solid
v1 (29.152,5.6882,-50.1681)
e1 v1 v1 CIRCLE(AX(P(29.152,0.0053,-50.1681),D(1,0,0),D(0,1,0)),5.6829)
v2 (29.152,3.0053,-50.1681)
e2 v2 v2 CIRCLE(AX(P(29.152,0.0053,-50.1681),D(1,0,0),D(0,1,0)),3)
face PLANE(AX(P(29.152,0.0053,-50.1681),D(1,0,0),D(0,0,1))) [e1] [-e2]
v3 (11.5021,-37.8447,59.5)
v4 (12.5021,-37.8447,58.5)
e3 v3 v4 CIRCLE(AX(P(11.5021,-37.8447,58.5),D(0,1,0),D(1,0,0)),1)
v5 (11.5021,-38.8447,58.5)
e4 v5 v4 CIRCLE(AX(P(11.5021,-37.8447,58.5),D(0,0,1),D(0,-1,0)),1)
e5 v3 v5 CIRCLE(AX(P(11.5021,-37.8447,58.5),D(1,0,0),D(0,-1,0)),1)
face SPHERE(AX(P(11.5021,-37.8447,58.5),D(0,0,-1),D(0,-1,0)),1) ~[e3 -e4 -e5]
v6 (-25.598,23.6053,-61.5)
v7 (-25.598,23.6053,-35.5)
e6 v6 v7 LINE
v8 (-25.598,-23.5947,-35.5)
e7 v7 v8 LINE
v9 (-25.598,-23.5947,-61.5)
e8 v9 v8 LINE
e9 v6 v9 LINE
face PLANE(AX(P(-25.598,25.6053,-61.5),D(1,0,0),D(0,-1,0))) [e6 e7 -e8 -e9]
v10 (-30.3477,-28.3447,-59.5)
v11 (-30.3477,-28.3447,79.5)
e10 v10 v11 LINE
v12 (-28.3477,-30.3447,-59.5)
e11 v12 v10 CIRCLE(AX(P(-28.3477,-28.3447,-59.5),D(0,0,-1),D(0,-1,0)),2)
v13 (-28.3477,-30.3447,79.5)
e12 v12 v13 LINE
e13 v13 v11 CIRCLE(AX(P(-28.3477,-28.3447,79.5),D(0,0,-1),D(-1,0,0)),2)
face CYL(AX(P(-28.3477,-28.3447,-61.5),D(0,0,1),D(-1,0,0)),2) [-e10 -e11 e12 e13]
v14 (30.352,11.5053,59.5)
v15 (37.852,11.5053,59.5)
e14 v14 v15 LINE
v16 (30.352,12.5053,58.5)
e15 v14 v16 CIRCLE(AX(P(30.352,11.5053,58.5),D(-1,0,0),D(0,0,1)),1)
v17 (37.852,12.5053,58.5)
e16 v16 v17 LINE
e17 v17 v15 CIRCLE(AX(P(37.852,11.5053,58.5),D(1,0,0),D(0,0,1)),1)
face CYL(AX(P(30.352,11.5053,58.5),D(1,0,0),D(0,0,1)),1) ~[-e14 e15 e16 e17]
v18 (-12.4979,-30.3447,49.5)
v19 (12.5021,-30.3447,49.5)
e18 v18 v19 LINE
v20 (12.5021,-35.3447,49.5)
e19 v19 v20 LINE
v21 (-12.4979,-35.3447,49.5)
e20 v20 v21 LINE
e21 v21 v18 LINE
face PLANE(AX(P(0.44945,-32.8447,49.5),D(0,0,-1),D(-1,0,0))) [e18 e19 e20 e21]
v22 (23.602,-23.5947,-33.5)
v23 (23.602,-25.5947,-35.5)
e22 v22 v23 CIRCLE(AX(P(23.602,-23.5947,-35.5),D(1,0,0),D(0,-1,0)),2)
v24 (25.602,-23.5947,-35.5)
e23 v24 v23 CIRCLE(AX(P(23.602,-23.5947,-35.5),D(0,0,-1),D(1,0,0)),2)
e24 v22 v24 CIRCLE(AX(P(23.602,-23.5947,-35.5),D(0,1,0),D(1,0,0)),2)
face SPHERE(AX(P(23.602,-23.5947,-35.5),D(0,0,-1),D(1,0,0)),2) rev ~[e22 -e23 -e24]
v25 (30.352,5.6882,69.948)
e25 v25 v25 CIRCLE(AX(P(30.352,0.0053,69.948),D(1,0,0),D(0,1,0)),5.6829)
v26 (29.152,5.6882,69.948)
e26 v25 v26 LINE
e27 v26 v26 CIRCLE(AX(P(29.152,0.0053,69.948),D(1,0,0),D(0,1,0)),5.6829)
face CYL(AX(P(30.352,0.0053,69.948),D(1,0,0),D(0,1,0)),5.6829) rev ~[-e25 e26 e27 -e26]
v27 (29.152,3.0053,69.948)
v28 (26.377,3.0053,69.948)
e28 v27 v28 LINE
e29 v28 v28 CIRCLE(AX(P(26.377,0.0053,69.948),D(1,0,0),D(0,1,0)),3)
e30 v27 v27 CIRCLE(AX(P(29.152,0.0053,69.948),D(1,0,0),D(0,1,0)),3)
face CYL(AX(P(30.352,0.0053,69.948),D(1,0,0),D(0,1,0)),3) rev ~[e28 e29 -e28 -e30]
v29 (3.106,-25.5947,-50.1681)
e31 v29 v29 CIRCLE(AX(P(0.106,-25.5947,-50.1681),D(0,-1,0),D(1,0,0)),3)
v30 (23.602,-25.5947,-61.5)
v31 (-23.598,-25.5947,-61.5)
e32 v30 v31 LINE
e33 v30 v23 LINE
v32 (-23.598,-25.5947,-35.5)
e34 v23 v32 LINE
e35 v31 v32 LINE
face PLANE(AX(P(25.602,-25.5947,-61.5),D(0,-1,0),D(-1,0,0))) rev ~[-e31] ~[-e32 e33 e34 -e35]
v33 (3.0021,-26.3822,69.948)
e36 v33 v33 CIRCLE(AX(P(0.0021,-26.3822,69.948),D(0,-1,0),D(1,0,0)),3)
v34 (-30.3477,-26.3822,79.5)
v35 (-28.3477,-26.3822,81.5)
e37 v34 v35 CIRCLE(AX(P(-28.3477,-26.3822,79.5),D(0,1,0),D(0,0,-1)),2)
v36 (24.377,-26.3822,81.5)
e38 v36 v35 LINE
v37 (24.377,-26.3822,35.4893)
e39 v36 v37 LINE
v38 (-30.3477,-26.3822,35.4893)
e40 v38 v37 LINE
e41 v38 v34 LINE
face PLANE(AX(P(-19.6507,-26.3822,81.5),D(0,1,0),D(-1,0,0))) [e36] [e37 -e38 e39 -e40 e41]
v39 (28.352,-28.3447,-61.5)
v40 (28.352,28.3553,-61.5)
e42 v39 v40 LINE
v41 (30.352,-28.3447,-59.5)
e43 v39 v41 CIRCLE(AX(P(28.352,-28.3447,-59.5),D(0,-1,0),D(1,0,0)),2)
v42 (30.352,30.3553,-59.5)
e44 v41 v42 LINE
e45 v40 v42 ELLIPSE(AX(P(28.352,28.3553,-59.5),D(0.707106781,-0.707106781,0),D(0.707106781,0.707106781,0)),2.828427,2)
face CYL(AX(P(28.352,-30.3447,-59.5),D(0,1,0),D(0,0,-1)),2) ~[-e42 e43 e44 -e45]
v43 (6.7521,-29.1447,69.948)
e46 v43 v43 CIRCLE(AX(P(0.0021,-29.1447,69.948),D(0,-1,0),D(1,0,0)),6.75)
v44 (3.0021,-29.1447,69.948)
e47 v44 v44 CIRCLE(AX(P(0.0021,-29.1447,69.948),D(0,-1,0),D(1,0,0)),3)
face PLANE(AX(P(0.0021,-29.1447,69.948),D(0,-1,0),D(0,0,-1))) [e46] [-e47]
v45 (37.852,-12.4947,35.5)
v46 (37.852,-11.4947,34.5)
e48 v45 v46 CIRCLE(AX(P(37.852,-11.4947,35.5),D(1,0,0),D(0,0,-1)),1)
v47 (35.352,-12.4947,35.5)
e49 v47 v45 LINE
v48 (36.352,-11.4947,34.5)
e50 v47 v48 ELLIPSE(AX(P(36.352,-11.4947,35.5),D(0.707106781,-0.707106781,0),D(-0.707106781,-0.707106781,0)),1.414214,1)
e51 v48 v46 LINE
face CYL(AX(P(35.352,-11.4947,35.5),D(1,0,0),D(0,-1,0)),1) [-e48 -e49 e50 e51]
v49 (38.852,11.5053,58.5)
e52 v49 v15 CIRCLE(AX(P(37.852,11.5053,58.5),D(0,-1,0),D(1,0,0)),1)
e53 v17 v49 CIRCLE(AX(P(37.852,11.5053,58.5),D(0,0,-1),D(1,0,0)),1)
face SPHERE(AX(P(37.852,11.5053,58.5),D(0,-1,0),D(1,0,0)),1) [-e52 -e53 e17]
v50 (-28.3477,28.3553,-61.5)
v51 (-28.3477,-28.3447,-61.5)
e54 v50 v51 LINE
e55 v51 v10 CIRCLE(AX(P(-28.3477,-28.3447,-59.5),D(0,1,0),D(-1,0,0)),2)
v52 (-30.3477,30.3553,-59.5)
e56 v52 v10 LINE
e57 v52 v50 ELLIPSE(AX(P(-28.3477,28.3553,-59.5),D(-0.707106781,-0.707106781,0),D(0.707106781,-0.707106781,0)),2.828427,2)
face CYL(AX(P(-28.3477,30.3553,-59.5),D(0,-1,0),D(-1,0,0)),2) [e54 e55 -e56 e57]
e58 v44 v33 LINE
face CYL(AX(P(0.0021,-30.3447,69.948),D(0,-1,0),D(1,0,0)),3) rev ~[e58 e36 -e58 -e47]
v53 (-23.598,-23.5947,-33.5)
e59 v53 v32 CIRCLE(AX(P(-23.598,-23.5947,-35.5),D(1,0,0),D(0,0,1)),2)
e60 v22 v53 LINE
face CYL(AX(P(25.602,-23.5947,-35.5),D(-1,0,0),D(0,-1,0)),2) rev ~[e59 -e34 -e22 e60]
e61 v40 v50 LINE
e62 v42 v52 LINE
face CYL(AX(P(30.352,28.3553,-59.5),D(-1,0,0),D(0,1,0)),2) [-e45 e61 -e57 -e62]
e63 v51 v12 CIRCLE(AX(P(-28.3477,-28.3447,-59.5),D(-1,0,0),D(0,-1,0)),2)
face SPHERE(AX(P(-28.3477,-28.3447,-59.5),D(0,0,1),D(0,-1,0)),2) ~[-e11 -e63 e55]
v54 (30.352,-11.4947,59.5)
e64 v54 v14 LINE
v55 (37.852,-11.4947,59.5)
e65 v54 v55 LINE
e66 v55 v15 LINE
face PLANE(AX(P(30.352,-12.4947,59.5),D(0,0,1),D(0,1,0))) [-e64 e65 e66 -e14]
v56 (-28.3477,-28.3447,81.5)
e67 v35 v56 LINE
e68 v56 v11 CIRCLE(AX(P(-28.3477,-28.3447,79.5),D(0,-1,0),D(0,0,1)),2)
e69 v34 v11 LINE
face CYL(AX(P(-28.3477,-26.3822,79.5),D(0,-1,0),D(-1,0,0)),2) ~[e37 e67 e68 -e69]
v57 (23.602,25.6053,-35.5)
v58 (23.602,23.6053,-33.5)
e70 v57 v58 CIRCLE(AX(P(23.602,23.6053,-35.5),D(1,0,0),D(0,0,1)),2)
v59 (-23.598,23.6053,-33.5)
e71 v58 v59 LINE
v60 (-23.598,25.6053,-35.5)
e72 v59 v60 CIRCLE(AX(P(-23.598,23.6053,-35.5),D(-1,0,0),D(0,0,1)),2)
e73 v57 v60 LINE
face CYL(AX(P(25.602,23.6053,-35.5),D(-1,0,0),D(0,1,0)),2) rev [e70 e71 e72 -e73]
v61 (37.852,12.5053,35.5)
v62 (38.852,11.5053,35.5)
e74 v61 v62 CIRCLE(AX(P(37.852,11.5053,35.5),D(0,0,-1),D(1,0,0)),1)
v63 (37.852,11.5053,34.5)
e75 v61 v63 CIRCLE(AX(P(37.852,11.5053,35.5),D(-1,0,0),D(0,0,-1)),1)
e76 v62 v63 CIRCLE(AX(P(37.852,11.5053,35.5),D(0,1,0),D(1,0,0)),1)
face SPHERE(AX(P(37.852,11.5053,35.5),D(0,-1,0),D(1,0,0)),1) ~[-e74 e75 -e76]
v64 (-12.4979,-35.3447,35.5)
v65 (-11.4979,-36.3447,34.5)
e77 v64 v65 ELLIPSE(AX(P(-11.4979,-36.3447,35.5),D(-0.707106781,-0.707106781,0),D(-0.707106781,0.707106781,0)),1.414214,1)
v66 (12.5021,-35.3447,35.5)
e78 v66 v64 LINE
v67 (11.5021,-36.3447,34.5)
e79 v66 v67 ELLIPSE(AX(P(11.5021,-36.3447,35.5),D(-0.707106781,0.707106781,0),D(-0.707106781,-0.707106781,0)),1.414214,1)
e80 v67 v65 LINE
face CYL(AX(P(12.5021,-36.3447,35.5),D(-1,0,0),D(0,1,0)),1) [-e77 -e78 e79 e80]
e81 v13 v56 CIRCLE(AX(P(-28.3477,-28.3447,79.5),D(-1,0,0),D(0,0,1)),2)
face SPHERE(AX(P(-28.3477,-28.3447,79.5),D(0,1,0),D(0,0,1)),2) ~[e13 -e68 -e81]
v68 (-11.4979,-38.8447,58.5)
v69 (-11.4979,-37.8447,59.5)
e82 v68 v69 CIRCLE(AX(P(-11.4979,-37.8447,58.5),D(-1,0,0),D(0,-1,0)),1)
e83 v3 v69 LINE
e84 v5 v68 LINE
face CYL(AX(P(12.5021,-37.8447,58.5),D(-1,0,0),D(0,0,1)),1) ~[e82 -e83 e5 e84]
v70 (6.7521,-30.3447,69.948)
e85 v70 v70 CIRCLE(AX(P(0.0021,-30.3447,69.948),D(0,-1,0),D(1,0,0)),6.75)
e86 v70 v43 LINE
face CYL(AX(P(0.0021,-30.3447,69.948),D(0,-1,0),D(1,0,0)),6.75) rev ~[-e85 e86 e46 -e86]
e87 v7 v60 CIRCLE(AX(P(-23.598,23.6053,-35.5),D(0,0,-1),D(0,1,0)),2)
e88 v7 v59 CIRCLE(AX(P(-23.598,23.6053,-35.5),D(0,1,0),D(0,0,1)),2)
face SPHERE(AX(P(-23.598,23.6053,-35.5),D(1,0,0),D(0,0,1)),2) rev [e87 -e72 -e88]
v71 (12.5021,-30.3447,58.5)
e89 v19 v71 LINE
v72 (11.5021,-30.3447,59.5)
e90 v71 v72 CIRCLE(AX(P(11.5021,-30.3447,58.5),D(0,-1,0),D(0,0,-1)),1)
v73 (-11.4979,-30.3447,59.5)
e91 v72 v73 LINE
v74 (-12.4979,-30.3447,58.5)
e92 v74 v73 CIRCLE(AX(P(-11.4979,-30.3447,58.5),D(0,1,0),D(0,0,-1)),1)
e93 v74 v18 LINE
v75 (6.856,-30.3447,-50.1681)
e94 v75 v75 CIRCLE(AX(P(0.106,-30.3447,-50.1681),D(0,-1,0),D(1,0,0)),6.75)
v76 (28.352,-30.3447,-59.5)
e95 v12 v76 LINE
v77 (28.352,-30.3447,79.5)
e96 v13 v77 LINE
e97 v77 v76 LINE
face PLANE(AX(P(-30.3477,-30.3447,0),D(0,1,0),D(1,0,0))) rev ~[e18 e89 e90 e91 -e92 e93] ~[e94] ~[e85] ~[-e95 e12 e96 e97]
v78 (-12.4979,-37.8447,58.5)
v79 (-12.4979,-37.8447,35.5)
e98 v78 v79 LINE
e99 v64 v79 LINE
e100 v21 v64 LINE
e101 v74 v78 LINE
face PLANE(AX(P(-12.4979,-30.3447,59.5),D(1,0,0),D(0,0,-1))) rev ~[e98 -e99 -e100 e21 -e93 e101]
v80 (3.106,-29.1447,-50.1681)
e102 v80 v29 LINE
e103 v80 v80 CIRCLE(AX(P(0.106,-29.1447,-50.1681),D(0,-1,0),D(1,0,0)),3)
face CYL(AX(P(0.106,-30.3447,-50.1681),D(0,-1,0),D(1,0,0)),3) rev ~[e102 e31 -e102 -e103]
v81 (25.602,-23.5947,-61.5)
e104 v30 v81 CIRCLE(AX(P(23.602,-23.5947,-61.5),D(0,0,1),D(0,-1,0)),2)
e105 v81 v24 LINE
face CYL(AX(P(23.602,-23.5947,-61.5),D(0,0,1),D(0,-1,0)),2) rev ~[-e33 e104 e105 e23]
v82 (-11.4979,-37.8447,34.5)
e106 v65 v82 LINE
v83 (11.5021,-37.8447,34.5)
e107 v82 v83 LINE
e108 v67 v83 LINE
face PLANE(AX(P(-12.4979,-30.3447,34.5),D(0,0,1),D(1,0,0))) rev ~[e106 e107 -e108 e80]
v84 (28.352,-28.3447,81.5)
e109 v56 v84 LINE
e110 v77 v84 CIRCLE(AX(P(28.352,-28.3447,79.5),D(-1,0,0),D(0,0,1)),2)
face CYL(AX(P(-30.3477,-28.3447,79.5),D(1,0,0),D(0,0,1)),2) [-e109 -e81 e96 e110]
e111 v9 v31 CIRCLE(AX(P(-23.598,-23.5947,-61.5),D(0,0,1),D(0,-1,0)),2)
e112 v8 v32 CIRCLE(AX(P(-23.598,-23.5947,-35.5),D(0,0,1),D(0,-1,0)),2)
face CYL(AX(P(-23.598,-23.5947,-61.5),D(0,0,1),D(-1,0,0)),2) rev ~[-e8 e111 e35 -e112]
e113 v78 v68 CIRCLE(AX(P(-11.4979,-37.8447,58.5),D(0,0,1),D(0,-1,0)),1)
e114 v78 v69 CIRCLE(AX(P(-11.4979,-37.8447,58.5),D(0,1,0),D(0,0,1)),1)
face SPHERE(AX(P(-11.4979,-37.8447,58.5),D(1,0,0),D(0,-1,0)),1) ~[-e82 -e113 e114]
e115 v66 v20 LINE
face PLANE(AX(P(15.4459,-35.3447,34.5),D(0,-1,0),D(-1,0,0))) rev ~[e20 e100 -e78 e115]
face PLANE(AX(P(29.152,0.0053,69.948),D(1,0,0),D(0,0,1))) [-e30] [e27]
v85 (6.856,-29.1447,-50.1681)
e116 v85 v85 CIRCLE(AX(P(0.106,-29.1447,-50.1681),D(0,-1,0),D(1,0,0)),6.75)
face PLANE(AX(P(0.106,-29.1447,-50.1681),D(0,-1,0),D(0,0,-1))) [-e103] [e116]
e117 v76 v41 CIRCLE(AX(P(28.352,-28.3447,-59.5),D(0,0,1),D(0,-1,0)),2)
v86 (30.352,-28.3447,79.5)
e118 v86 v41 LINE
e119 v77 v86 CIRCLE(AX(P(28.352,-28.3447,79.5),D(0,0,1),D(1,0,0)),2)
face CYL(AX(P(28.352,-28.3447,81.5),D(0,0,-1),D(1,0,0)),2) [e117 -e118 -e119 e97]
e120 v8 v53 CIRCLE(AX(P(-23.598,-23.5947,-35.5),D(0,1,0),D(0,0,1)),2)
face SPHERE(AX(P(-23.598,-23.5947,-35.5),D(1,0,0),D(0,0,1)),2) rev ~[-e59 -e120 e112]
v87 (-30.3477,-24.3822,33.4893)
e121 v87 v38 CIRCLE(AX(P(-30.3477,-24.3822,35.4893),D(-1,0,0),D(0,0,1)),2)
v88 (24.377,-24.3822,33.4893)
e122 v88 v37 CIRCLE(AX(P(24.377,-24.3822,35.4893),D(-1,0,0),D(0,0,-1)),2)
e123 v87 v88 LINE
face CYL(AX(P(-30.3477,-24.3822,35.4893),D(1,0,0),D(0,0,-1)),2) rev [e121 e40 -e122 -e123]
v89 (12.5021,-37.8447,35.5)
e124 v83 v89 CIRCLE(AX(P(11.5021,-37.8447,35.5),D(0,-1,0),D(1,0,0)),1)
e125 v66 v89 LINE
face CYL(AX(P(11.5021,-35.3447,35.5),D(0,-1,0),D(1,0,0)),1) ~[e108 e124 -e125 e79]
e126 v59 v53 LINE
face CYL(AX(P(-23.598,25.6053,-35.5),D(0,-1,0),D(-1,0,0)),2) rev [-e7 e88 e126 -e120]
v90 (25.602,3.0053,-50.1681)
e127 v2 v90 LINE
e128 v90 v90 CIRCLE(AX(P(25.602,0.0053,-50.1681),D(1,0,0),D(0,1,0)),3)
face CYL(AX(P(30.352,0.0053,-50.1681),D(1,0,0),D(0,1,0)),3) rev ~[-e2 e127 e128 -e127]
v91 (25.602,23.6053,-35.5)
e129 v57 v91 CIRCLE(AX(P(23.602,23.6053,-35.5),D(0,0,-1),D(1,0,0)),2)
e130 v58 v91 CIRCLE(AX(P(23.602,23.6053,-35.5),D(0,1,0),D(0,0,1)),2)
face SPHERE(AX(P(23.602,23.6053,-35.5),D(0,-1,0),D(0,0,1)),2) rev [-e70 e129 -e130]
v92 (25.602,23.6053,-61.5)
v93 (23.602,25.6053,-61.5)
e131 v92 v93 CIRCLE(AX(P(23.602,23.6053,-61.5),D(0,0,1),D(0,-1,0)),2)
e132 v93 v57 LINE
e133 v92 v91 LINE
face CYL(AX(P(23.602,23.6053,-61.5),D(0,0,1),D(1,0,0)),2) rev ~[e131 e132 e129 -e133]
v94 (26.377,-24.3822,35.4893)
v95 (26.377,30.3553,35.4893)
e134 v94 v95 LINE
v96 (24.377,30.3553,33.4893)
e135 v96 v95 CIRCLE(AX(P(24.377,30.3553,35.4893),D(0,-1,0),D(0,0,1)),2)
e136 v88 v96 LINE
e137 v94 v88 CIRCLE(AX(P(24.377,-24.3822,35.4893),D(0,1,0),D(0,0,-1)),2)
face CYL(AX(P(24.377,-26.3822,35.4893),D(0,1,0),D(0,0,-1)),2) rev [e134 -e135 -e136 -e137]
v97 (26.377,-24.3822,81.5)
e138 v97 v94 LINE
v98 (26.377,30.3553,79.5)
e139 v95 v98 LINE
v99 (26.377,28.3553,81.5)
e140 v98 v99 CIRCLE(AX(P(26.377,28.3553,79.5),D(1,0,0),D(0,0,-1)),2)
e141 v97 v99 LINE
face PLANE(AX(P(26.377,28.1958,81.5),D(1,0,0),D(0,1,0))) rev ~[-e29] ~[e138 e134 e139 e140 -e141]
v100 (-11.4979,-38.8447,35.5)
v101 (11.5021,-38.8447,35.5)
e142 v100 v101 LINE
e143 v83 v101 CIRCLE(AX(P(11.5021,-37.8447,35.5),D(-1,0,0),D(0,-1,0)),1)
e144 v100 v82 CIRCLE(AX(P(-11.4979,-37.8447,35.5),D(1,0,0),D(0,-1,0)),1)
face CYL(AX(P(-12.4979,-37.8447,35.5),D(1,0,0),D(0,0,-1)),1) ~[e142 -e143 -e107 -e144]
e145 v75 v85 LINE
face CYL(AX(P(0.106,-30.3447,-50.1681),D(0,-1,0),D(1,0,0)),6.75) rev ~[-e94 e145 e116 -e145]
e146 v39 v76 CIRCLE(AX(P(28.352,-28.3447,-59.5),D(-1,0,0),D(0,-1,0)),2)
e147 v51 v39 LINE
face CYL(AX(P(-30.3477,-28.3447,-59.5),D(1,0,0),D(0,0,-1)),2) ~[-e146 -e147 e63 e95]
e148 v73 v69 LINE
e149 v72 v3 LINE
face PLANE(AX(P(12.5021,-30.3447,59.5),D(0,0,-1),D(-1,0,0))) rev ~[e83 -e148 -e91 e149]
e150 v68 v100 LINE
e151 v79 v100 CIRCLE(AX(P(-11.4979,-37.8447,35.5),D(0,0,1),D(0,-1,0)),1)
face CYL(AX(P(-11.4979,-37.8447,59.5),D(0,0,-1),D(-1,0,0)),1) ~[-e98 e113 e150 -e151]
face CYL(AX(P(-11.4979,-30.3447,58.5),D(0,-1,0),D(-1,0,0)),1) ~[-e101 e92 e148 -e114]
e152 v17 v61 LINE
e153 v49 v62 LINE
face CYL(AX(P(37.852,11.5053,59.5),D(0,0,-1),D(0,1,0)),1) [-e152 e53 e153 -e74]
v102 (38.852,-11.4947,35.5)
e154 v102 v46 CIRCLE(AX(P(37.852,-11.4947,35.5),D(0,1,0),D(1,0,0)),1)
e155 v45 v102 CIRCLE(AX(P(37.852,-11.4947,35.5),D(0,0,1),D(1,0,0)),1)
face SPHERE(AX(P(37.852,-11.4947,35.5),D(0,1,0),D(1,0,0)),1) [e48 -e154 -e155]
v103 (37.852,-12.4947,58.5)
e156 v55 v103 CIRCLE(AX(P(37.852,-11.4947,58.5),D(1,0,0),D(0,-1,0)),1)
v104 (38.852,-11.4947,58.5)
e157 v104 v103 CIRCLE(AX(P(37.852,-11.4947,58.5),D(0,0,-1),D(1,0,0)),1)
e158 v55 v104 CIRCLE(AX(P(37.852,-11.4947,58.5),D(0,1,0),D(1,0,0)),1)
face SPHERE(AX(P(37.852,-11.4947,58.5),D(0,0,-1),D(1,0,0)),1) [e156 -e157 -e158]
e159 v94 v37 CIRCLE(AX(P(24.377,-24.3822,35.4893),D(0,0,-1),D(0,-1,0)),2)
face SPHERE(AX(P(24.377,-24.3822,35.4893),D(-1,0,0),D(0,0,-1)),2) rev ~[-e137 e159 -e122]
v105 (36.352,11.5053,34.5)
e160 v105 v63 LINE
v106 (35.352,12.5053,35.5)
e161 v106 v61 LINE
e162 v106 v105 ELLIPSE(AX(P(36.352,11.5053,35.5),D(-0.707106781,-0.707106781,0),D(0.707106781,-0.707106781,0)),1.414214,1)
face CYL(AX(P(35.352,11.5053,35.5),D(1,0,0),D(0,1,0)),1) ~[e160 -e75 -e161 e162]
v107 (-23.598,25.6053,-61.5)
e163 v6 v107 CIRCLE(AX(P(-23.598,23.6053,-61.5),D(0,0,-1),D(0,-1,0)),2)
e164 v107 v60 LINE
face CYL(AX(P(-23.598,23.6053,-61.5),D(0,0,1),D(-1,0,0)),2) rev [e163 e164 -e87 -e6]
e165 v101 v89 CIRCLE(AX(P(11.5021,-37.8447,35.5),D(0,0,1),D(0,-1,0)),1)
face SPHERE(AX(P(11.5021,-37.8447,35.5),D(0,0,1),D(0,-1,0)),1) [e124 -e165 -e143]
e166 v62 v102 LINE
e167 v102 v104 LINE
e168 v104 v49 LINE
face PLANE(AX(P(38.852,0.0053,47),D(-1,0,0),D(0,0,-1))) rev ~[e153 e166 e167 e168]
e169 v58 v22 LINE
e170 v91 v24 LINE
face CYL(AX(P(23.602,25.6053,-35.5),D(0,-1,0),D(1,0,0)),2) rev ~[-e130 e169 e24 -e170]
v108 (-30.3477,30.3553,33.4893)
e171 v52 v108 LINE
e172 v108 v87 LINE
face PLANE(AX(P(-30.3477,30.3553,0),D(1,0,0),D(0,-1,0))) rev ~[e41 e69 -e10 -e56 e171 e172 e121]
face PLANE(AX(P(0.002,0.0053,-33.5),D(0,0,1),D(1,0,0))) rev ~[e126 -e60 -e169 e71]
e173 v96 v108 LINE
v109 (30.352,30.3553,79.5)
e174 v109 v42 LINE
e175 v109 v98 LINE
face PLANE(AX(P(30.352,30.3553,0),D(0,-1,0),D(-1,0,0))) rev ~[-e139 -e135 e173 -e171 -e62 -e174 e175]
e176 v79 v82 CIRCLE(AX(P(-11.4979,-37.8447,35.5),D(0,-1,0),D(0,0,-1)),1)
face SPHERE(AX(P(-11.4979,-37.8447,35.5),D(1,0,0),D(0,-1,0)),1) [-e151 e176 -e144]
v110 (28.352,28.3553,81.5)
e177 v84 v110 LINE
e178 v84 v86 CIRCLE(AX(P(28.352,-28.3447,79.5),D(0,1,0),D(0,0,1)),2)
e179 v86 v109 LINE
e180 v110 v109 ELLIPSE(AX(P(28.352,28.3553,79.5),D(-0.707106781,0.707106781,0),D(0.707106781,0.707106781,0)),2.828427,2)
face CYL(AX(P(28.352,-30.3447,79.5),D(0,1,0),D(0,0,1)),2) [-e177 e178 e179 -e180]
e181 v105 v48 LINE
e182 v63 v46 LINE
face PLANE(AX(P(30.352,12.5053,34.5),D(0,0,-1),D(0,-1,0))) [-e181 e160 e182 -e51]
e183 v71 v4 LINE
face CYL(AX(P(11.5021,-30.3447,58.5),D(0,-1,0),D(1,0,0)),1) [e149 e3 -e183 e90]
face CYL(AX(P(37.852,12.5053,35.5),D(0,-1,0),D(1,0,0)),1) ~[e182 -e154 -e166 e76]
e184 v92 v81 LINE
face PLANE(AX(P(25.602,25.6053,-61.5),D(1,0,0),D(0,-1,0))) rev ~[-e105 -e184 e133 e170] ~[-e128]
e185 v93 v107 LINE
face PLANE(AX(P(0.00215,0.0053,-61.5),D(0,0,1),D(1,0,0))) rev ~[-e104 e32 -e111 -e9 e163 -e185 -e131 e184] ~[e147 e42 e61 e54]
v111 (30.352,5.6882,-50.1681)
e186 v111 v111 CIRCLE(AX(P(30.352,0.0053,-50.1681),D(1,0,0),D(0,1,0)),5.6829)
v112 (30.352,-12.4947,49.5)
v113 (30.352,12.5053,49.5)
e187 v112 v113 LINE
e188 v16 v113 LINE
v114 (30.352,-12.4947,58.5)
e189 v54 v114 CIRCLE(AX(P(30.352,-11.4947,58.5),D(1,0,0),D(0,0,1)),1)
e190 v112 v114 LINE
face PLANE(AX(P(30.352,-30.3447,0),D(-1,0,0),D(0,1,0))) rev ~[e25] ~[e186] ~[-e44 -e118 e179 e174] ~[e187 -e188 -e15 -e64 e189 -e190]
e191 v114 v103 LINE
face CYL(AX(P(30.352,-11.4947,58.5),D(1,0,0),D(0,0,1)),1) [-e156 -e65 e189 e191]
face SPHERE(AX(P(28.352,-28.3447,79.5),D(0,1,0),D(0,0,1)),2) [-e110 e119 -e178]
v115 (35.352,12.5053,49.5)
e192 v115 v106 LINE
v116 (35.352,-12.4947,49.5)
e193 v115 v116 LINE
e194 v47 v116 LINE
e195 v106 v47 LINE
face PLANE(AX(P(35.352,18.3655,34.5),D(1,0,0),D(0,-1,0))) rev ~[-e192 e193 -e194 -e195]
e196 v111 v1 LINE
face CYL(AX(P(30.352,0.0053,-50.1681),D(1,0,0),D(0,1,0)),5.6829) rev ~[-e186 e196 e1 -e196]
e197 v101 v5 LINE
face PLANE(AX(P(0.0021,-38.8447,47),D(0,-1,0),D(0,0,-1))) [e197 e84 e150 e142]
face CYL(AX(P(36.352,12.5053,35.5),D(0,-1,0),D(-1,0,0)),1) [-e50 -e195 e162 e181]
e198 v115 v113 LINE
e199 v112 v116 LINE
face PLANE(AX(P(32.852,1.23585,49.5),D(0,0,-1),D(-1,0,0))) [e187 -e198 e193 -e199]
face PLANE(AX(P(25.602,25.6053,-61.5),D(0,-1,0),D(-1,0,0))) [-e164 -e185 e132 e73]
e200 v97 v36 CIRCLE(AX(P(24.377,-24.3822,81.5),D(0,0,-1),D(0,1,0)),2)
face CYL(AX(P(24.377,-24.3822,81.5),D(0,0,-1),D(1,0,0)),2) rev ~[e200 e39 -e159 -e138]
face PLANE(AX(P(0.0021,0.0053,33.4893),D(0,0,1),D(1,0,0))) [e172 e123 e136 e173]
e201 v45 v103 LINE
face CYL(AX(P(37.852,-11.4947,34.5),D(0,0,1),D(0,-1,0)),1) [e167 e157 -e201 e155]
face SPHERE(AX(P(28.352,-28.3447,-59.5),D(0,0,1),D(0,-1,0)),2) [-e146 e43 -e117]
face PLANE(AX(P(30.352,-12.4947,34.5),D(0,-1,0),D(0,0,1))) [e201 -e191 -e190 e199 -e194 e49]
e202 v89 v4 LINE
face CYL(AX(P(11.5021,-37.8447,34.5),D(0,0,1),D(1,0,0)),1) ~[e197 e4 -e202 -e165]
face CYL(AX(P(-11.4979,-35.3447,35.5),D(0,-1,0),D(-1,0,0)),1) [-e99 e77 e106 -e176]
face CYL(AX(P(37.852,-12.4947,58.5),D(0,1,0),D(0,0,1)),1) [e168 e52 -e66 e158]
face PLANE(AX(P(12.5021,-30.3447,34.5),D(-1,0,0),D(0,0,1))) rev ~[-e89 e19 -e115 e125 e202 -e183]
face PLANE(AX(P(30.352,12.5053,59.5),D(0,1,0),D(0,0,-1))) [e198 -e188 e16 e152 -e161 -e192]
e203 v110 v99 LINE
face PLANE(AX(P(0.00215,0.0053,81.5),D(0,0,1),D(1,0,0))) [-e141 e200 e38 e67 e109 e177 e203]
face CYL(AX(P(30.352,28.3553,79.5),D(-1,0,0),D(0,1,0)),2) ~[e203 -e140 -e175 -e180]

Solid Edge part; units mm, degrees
sketch "Sketch1" plane through (0, 0, 0) normal (0, 0, -1) x (-1, 0, 0)
  line L0 (-30.352, 30.3553) -> (30.3477, 30.3553)
  line L1 (30.3477, 30.3553) -> (30.3477, -30.3447)
  line L2 (30.3477, -30.3447) -> (-30.352, -30.3447)
  line L3 (-30.352, -30.3447) -> (-30.352, 30.3553)
extrude "Ajout_matière_1" add sketch "Sketch1" against normal blind 81.5 and the other way blind 61.5
sketch "Sketch2" plane through (0.0021, 0.0053, 81.5) normal (0, 0, 1) x (1, 0, 0)
  line L0 (26.3749, 28.1905) -> (26.3749, -26.3875)
  line L1 (-19.6528, -26.3875) -> (26.3749, -26.3875)
extrude "Cutout1" cut sketch "Sketch2" against normal blind 48.0107 material side at (26.327, 0.9068, 81.5)
sketch "Sketch3" plane through (0.0021, 0.0053, -61.5) normal (0, 0, -1) x (0, -1, 0)
  line L0 (-25.6, 25.6001) -> (25.6, 25.6001)
  line L1 (25.6, -25.5999) -> (25.6, 25.6001)
  line L2 (-25.6, -25.5999) -> (25.6, -25.5999)
  line L3 (-25.6, -25.5999) -> (-25.6, 25.6001)
extrude "Enlèvement_matière_3" cut sketch "Sketch3" against normal blind 28
sketch "Sketch4" plane through (0.0021, -30.3447, 10) normal (0, -1, 0) x (1, 0, 0)
  circle A0 centre (0.1039, -60.1681) radius 6.75
  circle A1 centre (0, 59.948) radius 6.75
  dimension "D1" = 13.5
  dimension "D2" = 13.5
extrude "Enlèvement_matière_4" cut sketch "Sketch4" against normal blind 1.2
sketch "Sketch5" plane through (0.0021, -30.3447, 10) normal (0, -1, 0) x (1, 0, 0)
  circle A0 centre (0, 59.948) radius 3
  circle A1 centre (0.1039, -60.1681) radius 3
extrude "Cutout2" cut sketch "Sketch5" against normal up to vertex (4.75 mm away)
sketch "Sketch6" plane through (30.352, 0.0053, 10) normal (1, 0, 0) x (0, 1, 0)
  circle A0 centre (0, 59.948) radius 5.6829
  circle A1 centre (0, -60.1681) radius 5.6829
extrude "Enlèvement_matière_6" cut sketch "Sketch6" against normal blind 1.2
sketch "Sketch7" plane through (30.352, 0.0053, 10) normal (1, 0, 0) x (0, 1, 0)
  circle A0 centre (0, 59.948) radius 3
  circle A1 centre (0, -60.1681) radius 3
extrude "Cutout3" cut sketch "Sketch7" against normal up to vertex (4.75 mm away)
fillet "Congé_1" radius 2 3 edges at (-1.9853, -26.3822, 33.4893) (26.3771, 1.9865, 33.4893) (26.3771, -26.3822, 57.4946)
fillet "Congé_2" radius 2 10 edges at (30.352, 0.0053, 81.5) (28.3645, 30.3553, 81.5) (-30.3477, -28.3635, 81.5) (0.0021, -30.3447, 81.5) (-30.3477, -30.3447, 10) (30.352, -30.3447, 10) (0.0021, -30.3447, -61.5) (-30.3477, 0.0053, -61.5) (30.352, 0.0053, -61.5) (0.0021, 30.3553, -61.5)
fillet "Congé_3" radius 2 8 edges at (25.602, -25.5947, -47.5) (25.602, 0.0053, -33.5) (0.002, -25.5947, -33.5) (0.002, 25.6053, -33.5) (-25.598, 0.0053, -33.5) (-25.598, 25.6053, -47.5) (25.602, 25.6053, -47.5) (-25.598, -25.5947, -47.5)
sketch "Sketch8" plane through (0.0021, -30.3447, 10) normal (0, -1, 0) x (-1, 0, 0)
  line L0 (-12.5, -49.5) -> (12.5, -49.5)
  line L1 (12.5, -49.5) -> (12.5, -24.5)
  line L2 (12.5, -24.5) -> (-12.5, -24.5)
  line L3 (-12.5, -24.5) -> (-12.5, -49.5)
  dimension "D1" = 25
  dimension "D2" = 25
  dimension "D3" = 22
extrude "Ajout_matière_2" add sketch "Sketch8" along normal blind 8.5
sketch "Sketch9" plane through (0.0021, -34.0947, 34.5) normal (0, 0, -1) x (0, -1, 0)
  line L0 (-3.75, 14.5491) -> (-3.75, -15.4438)
  line L1 (-3.75, -15.4438) -> (1.25, -15.4438)
  line L2 (1.25, -15.4438) -> (1.25, 14.5491)
  line L3 (1.25, 14.5491) -> (-3.75, 14.5491)
  dimension "D1" = 5
extrude "Enlèvement_matière_8" cut sketch "Sketch9" against normal blind 15
sketch "Sketch10" plane through (30.352, 1.0053, 10) normal (1, 0, 0) x (0, -1, 0)
  line L0 (13.5, -49.5) -> (-11.5, -49.5)
  line L1 (-11.5, -49.5) -> (-11.5, -24.5)
  line L2 (-11.5, -24.5) -> (13.5, -24.5)
  line L3 (13.5, -24.5) -> (13.5, -49.5)
  dimension "D1" = 25
  dimension "D2" = 25
extrude "Ajout_matière_3" add sketch "Sketch10" along normal blind 8.5
sketch "Sketch11" plane through (34.102, 0.0053, 34.5) normal (0, 0, -1) x (1, 0, 0)
  line L0 (-3.75, 15.8991) -> (-3.75, -18.3602)
  line L1 (-3.75, -18.3602) -> (1.25, -18.3602)
  line L2 (1.25, -18.3602) -> (1.25, 15.8991)
  line L3 (1.25, 15.8991) -> (-3.75, 15.8991)
  dimension "D1" = 5
extrude "Enlèvement_matière_9" cut sketch "Sketch11" against normal blind 15
fillet "Congé_4" radius 1 18 edges at (38.852, 0.0053, 34.5) (38.852, -12.4947, 47) (38.852, 0.0053, 59.5) (38.852, 12.5053, 47) (35.352, 0.0053, 34.5) (12.5021, -38.8447, 47) (0.0021, -38.8447, 59.5) (0.0021, -38.8447, 34.5) (0.0021, -35.3447, 34.5) (-12.4979, -38.8447, 47) (-12.4979, -37.0947, 34.5) (12.5021, -37.0947, 34.5) (-12.4979, -34.5947, 59.5) (12.5021, -34.5947, 59.5) (34.602, -12.4947, 59.5) (37.102, -12.4947, 34.5) (34.602, 12.5053, 59.5) (37.102, 12.5053, 34.5)
